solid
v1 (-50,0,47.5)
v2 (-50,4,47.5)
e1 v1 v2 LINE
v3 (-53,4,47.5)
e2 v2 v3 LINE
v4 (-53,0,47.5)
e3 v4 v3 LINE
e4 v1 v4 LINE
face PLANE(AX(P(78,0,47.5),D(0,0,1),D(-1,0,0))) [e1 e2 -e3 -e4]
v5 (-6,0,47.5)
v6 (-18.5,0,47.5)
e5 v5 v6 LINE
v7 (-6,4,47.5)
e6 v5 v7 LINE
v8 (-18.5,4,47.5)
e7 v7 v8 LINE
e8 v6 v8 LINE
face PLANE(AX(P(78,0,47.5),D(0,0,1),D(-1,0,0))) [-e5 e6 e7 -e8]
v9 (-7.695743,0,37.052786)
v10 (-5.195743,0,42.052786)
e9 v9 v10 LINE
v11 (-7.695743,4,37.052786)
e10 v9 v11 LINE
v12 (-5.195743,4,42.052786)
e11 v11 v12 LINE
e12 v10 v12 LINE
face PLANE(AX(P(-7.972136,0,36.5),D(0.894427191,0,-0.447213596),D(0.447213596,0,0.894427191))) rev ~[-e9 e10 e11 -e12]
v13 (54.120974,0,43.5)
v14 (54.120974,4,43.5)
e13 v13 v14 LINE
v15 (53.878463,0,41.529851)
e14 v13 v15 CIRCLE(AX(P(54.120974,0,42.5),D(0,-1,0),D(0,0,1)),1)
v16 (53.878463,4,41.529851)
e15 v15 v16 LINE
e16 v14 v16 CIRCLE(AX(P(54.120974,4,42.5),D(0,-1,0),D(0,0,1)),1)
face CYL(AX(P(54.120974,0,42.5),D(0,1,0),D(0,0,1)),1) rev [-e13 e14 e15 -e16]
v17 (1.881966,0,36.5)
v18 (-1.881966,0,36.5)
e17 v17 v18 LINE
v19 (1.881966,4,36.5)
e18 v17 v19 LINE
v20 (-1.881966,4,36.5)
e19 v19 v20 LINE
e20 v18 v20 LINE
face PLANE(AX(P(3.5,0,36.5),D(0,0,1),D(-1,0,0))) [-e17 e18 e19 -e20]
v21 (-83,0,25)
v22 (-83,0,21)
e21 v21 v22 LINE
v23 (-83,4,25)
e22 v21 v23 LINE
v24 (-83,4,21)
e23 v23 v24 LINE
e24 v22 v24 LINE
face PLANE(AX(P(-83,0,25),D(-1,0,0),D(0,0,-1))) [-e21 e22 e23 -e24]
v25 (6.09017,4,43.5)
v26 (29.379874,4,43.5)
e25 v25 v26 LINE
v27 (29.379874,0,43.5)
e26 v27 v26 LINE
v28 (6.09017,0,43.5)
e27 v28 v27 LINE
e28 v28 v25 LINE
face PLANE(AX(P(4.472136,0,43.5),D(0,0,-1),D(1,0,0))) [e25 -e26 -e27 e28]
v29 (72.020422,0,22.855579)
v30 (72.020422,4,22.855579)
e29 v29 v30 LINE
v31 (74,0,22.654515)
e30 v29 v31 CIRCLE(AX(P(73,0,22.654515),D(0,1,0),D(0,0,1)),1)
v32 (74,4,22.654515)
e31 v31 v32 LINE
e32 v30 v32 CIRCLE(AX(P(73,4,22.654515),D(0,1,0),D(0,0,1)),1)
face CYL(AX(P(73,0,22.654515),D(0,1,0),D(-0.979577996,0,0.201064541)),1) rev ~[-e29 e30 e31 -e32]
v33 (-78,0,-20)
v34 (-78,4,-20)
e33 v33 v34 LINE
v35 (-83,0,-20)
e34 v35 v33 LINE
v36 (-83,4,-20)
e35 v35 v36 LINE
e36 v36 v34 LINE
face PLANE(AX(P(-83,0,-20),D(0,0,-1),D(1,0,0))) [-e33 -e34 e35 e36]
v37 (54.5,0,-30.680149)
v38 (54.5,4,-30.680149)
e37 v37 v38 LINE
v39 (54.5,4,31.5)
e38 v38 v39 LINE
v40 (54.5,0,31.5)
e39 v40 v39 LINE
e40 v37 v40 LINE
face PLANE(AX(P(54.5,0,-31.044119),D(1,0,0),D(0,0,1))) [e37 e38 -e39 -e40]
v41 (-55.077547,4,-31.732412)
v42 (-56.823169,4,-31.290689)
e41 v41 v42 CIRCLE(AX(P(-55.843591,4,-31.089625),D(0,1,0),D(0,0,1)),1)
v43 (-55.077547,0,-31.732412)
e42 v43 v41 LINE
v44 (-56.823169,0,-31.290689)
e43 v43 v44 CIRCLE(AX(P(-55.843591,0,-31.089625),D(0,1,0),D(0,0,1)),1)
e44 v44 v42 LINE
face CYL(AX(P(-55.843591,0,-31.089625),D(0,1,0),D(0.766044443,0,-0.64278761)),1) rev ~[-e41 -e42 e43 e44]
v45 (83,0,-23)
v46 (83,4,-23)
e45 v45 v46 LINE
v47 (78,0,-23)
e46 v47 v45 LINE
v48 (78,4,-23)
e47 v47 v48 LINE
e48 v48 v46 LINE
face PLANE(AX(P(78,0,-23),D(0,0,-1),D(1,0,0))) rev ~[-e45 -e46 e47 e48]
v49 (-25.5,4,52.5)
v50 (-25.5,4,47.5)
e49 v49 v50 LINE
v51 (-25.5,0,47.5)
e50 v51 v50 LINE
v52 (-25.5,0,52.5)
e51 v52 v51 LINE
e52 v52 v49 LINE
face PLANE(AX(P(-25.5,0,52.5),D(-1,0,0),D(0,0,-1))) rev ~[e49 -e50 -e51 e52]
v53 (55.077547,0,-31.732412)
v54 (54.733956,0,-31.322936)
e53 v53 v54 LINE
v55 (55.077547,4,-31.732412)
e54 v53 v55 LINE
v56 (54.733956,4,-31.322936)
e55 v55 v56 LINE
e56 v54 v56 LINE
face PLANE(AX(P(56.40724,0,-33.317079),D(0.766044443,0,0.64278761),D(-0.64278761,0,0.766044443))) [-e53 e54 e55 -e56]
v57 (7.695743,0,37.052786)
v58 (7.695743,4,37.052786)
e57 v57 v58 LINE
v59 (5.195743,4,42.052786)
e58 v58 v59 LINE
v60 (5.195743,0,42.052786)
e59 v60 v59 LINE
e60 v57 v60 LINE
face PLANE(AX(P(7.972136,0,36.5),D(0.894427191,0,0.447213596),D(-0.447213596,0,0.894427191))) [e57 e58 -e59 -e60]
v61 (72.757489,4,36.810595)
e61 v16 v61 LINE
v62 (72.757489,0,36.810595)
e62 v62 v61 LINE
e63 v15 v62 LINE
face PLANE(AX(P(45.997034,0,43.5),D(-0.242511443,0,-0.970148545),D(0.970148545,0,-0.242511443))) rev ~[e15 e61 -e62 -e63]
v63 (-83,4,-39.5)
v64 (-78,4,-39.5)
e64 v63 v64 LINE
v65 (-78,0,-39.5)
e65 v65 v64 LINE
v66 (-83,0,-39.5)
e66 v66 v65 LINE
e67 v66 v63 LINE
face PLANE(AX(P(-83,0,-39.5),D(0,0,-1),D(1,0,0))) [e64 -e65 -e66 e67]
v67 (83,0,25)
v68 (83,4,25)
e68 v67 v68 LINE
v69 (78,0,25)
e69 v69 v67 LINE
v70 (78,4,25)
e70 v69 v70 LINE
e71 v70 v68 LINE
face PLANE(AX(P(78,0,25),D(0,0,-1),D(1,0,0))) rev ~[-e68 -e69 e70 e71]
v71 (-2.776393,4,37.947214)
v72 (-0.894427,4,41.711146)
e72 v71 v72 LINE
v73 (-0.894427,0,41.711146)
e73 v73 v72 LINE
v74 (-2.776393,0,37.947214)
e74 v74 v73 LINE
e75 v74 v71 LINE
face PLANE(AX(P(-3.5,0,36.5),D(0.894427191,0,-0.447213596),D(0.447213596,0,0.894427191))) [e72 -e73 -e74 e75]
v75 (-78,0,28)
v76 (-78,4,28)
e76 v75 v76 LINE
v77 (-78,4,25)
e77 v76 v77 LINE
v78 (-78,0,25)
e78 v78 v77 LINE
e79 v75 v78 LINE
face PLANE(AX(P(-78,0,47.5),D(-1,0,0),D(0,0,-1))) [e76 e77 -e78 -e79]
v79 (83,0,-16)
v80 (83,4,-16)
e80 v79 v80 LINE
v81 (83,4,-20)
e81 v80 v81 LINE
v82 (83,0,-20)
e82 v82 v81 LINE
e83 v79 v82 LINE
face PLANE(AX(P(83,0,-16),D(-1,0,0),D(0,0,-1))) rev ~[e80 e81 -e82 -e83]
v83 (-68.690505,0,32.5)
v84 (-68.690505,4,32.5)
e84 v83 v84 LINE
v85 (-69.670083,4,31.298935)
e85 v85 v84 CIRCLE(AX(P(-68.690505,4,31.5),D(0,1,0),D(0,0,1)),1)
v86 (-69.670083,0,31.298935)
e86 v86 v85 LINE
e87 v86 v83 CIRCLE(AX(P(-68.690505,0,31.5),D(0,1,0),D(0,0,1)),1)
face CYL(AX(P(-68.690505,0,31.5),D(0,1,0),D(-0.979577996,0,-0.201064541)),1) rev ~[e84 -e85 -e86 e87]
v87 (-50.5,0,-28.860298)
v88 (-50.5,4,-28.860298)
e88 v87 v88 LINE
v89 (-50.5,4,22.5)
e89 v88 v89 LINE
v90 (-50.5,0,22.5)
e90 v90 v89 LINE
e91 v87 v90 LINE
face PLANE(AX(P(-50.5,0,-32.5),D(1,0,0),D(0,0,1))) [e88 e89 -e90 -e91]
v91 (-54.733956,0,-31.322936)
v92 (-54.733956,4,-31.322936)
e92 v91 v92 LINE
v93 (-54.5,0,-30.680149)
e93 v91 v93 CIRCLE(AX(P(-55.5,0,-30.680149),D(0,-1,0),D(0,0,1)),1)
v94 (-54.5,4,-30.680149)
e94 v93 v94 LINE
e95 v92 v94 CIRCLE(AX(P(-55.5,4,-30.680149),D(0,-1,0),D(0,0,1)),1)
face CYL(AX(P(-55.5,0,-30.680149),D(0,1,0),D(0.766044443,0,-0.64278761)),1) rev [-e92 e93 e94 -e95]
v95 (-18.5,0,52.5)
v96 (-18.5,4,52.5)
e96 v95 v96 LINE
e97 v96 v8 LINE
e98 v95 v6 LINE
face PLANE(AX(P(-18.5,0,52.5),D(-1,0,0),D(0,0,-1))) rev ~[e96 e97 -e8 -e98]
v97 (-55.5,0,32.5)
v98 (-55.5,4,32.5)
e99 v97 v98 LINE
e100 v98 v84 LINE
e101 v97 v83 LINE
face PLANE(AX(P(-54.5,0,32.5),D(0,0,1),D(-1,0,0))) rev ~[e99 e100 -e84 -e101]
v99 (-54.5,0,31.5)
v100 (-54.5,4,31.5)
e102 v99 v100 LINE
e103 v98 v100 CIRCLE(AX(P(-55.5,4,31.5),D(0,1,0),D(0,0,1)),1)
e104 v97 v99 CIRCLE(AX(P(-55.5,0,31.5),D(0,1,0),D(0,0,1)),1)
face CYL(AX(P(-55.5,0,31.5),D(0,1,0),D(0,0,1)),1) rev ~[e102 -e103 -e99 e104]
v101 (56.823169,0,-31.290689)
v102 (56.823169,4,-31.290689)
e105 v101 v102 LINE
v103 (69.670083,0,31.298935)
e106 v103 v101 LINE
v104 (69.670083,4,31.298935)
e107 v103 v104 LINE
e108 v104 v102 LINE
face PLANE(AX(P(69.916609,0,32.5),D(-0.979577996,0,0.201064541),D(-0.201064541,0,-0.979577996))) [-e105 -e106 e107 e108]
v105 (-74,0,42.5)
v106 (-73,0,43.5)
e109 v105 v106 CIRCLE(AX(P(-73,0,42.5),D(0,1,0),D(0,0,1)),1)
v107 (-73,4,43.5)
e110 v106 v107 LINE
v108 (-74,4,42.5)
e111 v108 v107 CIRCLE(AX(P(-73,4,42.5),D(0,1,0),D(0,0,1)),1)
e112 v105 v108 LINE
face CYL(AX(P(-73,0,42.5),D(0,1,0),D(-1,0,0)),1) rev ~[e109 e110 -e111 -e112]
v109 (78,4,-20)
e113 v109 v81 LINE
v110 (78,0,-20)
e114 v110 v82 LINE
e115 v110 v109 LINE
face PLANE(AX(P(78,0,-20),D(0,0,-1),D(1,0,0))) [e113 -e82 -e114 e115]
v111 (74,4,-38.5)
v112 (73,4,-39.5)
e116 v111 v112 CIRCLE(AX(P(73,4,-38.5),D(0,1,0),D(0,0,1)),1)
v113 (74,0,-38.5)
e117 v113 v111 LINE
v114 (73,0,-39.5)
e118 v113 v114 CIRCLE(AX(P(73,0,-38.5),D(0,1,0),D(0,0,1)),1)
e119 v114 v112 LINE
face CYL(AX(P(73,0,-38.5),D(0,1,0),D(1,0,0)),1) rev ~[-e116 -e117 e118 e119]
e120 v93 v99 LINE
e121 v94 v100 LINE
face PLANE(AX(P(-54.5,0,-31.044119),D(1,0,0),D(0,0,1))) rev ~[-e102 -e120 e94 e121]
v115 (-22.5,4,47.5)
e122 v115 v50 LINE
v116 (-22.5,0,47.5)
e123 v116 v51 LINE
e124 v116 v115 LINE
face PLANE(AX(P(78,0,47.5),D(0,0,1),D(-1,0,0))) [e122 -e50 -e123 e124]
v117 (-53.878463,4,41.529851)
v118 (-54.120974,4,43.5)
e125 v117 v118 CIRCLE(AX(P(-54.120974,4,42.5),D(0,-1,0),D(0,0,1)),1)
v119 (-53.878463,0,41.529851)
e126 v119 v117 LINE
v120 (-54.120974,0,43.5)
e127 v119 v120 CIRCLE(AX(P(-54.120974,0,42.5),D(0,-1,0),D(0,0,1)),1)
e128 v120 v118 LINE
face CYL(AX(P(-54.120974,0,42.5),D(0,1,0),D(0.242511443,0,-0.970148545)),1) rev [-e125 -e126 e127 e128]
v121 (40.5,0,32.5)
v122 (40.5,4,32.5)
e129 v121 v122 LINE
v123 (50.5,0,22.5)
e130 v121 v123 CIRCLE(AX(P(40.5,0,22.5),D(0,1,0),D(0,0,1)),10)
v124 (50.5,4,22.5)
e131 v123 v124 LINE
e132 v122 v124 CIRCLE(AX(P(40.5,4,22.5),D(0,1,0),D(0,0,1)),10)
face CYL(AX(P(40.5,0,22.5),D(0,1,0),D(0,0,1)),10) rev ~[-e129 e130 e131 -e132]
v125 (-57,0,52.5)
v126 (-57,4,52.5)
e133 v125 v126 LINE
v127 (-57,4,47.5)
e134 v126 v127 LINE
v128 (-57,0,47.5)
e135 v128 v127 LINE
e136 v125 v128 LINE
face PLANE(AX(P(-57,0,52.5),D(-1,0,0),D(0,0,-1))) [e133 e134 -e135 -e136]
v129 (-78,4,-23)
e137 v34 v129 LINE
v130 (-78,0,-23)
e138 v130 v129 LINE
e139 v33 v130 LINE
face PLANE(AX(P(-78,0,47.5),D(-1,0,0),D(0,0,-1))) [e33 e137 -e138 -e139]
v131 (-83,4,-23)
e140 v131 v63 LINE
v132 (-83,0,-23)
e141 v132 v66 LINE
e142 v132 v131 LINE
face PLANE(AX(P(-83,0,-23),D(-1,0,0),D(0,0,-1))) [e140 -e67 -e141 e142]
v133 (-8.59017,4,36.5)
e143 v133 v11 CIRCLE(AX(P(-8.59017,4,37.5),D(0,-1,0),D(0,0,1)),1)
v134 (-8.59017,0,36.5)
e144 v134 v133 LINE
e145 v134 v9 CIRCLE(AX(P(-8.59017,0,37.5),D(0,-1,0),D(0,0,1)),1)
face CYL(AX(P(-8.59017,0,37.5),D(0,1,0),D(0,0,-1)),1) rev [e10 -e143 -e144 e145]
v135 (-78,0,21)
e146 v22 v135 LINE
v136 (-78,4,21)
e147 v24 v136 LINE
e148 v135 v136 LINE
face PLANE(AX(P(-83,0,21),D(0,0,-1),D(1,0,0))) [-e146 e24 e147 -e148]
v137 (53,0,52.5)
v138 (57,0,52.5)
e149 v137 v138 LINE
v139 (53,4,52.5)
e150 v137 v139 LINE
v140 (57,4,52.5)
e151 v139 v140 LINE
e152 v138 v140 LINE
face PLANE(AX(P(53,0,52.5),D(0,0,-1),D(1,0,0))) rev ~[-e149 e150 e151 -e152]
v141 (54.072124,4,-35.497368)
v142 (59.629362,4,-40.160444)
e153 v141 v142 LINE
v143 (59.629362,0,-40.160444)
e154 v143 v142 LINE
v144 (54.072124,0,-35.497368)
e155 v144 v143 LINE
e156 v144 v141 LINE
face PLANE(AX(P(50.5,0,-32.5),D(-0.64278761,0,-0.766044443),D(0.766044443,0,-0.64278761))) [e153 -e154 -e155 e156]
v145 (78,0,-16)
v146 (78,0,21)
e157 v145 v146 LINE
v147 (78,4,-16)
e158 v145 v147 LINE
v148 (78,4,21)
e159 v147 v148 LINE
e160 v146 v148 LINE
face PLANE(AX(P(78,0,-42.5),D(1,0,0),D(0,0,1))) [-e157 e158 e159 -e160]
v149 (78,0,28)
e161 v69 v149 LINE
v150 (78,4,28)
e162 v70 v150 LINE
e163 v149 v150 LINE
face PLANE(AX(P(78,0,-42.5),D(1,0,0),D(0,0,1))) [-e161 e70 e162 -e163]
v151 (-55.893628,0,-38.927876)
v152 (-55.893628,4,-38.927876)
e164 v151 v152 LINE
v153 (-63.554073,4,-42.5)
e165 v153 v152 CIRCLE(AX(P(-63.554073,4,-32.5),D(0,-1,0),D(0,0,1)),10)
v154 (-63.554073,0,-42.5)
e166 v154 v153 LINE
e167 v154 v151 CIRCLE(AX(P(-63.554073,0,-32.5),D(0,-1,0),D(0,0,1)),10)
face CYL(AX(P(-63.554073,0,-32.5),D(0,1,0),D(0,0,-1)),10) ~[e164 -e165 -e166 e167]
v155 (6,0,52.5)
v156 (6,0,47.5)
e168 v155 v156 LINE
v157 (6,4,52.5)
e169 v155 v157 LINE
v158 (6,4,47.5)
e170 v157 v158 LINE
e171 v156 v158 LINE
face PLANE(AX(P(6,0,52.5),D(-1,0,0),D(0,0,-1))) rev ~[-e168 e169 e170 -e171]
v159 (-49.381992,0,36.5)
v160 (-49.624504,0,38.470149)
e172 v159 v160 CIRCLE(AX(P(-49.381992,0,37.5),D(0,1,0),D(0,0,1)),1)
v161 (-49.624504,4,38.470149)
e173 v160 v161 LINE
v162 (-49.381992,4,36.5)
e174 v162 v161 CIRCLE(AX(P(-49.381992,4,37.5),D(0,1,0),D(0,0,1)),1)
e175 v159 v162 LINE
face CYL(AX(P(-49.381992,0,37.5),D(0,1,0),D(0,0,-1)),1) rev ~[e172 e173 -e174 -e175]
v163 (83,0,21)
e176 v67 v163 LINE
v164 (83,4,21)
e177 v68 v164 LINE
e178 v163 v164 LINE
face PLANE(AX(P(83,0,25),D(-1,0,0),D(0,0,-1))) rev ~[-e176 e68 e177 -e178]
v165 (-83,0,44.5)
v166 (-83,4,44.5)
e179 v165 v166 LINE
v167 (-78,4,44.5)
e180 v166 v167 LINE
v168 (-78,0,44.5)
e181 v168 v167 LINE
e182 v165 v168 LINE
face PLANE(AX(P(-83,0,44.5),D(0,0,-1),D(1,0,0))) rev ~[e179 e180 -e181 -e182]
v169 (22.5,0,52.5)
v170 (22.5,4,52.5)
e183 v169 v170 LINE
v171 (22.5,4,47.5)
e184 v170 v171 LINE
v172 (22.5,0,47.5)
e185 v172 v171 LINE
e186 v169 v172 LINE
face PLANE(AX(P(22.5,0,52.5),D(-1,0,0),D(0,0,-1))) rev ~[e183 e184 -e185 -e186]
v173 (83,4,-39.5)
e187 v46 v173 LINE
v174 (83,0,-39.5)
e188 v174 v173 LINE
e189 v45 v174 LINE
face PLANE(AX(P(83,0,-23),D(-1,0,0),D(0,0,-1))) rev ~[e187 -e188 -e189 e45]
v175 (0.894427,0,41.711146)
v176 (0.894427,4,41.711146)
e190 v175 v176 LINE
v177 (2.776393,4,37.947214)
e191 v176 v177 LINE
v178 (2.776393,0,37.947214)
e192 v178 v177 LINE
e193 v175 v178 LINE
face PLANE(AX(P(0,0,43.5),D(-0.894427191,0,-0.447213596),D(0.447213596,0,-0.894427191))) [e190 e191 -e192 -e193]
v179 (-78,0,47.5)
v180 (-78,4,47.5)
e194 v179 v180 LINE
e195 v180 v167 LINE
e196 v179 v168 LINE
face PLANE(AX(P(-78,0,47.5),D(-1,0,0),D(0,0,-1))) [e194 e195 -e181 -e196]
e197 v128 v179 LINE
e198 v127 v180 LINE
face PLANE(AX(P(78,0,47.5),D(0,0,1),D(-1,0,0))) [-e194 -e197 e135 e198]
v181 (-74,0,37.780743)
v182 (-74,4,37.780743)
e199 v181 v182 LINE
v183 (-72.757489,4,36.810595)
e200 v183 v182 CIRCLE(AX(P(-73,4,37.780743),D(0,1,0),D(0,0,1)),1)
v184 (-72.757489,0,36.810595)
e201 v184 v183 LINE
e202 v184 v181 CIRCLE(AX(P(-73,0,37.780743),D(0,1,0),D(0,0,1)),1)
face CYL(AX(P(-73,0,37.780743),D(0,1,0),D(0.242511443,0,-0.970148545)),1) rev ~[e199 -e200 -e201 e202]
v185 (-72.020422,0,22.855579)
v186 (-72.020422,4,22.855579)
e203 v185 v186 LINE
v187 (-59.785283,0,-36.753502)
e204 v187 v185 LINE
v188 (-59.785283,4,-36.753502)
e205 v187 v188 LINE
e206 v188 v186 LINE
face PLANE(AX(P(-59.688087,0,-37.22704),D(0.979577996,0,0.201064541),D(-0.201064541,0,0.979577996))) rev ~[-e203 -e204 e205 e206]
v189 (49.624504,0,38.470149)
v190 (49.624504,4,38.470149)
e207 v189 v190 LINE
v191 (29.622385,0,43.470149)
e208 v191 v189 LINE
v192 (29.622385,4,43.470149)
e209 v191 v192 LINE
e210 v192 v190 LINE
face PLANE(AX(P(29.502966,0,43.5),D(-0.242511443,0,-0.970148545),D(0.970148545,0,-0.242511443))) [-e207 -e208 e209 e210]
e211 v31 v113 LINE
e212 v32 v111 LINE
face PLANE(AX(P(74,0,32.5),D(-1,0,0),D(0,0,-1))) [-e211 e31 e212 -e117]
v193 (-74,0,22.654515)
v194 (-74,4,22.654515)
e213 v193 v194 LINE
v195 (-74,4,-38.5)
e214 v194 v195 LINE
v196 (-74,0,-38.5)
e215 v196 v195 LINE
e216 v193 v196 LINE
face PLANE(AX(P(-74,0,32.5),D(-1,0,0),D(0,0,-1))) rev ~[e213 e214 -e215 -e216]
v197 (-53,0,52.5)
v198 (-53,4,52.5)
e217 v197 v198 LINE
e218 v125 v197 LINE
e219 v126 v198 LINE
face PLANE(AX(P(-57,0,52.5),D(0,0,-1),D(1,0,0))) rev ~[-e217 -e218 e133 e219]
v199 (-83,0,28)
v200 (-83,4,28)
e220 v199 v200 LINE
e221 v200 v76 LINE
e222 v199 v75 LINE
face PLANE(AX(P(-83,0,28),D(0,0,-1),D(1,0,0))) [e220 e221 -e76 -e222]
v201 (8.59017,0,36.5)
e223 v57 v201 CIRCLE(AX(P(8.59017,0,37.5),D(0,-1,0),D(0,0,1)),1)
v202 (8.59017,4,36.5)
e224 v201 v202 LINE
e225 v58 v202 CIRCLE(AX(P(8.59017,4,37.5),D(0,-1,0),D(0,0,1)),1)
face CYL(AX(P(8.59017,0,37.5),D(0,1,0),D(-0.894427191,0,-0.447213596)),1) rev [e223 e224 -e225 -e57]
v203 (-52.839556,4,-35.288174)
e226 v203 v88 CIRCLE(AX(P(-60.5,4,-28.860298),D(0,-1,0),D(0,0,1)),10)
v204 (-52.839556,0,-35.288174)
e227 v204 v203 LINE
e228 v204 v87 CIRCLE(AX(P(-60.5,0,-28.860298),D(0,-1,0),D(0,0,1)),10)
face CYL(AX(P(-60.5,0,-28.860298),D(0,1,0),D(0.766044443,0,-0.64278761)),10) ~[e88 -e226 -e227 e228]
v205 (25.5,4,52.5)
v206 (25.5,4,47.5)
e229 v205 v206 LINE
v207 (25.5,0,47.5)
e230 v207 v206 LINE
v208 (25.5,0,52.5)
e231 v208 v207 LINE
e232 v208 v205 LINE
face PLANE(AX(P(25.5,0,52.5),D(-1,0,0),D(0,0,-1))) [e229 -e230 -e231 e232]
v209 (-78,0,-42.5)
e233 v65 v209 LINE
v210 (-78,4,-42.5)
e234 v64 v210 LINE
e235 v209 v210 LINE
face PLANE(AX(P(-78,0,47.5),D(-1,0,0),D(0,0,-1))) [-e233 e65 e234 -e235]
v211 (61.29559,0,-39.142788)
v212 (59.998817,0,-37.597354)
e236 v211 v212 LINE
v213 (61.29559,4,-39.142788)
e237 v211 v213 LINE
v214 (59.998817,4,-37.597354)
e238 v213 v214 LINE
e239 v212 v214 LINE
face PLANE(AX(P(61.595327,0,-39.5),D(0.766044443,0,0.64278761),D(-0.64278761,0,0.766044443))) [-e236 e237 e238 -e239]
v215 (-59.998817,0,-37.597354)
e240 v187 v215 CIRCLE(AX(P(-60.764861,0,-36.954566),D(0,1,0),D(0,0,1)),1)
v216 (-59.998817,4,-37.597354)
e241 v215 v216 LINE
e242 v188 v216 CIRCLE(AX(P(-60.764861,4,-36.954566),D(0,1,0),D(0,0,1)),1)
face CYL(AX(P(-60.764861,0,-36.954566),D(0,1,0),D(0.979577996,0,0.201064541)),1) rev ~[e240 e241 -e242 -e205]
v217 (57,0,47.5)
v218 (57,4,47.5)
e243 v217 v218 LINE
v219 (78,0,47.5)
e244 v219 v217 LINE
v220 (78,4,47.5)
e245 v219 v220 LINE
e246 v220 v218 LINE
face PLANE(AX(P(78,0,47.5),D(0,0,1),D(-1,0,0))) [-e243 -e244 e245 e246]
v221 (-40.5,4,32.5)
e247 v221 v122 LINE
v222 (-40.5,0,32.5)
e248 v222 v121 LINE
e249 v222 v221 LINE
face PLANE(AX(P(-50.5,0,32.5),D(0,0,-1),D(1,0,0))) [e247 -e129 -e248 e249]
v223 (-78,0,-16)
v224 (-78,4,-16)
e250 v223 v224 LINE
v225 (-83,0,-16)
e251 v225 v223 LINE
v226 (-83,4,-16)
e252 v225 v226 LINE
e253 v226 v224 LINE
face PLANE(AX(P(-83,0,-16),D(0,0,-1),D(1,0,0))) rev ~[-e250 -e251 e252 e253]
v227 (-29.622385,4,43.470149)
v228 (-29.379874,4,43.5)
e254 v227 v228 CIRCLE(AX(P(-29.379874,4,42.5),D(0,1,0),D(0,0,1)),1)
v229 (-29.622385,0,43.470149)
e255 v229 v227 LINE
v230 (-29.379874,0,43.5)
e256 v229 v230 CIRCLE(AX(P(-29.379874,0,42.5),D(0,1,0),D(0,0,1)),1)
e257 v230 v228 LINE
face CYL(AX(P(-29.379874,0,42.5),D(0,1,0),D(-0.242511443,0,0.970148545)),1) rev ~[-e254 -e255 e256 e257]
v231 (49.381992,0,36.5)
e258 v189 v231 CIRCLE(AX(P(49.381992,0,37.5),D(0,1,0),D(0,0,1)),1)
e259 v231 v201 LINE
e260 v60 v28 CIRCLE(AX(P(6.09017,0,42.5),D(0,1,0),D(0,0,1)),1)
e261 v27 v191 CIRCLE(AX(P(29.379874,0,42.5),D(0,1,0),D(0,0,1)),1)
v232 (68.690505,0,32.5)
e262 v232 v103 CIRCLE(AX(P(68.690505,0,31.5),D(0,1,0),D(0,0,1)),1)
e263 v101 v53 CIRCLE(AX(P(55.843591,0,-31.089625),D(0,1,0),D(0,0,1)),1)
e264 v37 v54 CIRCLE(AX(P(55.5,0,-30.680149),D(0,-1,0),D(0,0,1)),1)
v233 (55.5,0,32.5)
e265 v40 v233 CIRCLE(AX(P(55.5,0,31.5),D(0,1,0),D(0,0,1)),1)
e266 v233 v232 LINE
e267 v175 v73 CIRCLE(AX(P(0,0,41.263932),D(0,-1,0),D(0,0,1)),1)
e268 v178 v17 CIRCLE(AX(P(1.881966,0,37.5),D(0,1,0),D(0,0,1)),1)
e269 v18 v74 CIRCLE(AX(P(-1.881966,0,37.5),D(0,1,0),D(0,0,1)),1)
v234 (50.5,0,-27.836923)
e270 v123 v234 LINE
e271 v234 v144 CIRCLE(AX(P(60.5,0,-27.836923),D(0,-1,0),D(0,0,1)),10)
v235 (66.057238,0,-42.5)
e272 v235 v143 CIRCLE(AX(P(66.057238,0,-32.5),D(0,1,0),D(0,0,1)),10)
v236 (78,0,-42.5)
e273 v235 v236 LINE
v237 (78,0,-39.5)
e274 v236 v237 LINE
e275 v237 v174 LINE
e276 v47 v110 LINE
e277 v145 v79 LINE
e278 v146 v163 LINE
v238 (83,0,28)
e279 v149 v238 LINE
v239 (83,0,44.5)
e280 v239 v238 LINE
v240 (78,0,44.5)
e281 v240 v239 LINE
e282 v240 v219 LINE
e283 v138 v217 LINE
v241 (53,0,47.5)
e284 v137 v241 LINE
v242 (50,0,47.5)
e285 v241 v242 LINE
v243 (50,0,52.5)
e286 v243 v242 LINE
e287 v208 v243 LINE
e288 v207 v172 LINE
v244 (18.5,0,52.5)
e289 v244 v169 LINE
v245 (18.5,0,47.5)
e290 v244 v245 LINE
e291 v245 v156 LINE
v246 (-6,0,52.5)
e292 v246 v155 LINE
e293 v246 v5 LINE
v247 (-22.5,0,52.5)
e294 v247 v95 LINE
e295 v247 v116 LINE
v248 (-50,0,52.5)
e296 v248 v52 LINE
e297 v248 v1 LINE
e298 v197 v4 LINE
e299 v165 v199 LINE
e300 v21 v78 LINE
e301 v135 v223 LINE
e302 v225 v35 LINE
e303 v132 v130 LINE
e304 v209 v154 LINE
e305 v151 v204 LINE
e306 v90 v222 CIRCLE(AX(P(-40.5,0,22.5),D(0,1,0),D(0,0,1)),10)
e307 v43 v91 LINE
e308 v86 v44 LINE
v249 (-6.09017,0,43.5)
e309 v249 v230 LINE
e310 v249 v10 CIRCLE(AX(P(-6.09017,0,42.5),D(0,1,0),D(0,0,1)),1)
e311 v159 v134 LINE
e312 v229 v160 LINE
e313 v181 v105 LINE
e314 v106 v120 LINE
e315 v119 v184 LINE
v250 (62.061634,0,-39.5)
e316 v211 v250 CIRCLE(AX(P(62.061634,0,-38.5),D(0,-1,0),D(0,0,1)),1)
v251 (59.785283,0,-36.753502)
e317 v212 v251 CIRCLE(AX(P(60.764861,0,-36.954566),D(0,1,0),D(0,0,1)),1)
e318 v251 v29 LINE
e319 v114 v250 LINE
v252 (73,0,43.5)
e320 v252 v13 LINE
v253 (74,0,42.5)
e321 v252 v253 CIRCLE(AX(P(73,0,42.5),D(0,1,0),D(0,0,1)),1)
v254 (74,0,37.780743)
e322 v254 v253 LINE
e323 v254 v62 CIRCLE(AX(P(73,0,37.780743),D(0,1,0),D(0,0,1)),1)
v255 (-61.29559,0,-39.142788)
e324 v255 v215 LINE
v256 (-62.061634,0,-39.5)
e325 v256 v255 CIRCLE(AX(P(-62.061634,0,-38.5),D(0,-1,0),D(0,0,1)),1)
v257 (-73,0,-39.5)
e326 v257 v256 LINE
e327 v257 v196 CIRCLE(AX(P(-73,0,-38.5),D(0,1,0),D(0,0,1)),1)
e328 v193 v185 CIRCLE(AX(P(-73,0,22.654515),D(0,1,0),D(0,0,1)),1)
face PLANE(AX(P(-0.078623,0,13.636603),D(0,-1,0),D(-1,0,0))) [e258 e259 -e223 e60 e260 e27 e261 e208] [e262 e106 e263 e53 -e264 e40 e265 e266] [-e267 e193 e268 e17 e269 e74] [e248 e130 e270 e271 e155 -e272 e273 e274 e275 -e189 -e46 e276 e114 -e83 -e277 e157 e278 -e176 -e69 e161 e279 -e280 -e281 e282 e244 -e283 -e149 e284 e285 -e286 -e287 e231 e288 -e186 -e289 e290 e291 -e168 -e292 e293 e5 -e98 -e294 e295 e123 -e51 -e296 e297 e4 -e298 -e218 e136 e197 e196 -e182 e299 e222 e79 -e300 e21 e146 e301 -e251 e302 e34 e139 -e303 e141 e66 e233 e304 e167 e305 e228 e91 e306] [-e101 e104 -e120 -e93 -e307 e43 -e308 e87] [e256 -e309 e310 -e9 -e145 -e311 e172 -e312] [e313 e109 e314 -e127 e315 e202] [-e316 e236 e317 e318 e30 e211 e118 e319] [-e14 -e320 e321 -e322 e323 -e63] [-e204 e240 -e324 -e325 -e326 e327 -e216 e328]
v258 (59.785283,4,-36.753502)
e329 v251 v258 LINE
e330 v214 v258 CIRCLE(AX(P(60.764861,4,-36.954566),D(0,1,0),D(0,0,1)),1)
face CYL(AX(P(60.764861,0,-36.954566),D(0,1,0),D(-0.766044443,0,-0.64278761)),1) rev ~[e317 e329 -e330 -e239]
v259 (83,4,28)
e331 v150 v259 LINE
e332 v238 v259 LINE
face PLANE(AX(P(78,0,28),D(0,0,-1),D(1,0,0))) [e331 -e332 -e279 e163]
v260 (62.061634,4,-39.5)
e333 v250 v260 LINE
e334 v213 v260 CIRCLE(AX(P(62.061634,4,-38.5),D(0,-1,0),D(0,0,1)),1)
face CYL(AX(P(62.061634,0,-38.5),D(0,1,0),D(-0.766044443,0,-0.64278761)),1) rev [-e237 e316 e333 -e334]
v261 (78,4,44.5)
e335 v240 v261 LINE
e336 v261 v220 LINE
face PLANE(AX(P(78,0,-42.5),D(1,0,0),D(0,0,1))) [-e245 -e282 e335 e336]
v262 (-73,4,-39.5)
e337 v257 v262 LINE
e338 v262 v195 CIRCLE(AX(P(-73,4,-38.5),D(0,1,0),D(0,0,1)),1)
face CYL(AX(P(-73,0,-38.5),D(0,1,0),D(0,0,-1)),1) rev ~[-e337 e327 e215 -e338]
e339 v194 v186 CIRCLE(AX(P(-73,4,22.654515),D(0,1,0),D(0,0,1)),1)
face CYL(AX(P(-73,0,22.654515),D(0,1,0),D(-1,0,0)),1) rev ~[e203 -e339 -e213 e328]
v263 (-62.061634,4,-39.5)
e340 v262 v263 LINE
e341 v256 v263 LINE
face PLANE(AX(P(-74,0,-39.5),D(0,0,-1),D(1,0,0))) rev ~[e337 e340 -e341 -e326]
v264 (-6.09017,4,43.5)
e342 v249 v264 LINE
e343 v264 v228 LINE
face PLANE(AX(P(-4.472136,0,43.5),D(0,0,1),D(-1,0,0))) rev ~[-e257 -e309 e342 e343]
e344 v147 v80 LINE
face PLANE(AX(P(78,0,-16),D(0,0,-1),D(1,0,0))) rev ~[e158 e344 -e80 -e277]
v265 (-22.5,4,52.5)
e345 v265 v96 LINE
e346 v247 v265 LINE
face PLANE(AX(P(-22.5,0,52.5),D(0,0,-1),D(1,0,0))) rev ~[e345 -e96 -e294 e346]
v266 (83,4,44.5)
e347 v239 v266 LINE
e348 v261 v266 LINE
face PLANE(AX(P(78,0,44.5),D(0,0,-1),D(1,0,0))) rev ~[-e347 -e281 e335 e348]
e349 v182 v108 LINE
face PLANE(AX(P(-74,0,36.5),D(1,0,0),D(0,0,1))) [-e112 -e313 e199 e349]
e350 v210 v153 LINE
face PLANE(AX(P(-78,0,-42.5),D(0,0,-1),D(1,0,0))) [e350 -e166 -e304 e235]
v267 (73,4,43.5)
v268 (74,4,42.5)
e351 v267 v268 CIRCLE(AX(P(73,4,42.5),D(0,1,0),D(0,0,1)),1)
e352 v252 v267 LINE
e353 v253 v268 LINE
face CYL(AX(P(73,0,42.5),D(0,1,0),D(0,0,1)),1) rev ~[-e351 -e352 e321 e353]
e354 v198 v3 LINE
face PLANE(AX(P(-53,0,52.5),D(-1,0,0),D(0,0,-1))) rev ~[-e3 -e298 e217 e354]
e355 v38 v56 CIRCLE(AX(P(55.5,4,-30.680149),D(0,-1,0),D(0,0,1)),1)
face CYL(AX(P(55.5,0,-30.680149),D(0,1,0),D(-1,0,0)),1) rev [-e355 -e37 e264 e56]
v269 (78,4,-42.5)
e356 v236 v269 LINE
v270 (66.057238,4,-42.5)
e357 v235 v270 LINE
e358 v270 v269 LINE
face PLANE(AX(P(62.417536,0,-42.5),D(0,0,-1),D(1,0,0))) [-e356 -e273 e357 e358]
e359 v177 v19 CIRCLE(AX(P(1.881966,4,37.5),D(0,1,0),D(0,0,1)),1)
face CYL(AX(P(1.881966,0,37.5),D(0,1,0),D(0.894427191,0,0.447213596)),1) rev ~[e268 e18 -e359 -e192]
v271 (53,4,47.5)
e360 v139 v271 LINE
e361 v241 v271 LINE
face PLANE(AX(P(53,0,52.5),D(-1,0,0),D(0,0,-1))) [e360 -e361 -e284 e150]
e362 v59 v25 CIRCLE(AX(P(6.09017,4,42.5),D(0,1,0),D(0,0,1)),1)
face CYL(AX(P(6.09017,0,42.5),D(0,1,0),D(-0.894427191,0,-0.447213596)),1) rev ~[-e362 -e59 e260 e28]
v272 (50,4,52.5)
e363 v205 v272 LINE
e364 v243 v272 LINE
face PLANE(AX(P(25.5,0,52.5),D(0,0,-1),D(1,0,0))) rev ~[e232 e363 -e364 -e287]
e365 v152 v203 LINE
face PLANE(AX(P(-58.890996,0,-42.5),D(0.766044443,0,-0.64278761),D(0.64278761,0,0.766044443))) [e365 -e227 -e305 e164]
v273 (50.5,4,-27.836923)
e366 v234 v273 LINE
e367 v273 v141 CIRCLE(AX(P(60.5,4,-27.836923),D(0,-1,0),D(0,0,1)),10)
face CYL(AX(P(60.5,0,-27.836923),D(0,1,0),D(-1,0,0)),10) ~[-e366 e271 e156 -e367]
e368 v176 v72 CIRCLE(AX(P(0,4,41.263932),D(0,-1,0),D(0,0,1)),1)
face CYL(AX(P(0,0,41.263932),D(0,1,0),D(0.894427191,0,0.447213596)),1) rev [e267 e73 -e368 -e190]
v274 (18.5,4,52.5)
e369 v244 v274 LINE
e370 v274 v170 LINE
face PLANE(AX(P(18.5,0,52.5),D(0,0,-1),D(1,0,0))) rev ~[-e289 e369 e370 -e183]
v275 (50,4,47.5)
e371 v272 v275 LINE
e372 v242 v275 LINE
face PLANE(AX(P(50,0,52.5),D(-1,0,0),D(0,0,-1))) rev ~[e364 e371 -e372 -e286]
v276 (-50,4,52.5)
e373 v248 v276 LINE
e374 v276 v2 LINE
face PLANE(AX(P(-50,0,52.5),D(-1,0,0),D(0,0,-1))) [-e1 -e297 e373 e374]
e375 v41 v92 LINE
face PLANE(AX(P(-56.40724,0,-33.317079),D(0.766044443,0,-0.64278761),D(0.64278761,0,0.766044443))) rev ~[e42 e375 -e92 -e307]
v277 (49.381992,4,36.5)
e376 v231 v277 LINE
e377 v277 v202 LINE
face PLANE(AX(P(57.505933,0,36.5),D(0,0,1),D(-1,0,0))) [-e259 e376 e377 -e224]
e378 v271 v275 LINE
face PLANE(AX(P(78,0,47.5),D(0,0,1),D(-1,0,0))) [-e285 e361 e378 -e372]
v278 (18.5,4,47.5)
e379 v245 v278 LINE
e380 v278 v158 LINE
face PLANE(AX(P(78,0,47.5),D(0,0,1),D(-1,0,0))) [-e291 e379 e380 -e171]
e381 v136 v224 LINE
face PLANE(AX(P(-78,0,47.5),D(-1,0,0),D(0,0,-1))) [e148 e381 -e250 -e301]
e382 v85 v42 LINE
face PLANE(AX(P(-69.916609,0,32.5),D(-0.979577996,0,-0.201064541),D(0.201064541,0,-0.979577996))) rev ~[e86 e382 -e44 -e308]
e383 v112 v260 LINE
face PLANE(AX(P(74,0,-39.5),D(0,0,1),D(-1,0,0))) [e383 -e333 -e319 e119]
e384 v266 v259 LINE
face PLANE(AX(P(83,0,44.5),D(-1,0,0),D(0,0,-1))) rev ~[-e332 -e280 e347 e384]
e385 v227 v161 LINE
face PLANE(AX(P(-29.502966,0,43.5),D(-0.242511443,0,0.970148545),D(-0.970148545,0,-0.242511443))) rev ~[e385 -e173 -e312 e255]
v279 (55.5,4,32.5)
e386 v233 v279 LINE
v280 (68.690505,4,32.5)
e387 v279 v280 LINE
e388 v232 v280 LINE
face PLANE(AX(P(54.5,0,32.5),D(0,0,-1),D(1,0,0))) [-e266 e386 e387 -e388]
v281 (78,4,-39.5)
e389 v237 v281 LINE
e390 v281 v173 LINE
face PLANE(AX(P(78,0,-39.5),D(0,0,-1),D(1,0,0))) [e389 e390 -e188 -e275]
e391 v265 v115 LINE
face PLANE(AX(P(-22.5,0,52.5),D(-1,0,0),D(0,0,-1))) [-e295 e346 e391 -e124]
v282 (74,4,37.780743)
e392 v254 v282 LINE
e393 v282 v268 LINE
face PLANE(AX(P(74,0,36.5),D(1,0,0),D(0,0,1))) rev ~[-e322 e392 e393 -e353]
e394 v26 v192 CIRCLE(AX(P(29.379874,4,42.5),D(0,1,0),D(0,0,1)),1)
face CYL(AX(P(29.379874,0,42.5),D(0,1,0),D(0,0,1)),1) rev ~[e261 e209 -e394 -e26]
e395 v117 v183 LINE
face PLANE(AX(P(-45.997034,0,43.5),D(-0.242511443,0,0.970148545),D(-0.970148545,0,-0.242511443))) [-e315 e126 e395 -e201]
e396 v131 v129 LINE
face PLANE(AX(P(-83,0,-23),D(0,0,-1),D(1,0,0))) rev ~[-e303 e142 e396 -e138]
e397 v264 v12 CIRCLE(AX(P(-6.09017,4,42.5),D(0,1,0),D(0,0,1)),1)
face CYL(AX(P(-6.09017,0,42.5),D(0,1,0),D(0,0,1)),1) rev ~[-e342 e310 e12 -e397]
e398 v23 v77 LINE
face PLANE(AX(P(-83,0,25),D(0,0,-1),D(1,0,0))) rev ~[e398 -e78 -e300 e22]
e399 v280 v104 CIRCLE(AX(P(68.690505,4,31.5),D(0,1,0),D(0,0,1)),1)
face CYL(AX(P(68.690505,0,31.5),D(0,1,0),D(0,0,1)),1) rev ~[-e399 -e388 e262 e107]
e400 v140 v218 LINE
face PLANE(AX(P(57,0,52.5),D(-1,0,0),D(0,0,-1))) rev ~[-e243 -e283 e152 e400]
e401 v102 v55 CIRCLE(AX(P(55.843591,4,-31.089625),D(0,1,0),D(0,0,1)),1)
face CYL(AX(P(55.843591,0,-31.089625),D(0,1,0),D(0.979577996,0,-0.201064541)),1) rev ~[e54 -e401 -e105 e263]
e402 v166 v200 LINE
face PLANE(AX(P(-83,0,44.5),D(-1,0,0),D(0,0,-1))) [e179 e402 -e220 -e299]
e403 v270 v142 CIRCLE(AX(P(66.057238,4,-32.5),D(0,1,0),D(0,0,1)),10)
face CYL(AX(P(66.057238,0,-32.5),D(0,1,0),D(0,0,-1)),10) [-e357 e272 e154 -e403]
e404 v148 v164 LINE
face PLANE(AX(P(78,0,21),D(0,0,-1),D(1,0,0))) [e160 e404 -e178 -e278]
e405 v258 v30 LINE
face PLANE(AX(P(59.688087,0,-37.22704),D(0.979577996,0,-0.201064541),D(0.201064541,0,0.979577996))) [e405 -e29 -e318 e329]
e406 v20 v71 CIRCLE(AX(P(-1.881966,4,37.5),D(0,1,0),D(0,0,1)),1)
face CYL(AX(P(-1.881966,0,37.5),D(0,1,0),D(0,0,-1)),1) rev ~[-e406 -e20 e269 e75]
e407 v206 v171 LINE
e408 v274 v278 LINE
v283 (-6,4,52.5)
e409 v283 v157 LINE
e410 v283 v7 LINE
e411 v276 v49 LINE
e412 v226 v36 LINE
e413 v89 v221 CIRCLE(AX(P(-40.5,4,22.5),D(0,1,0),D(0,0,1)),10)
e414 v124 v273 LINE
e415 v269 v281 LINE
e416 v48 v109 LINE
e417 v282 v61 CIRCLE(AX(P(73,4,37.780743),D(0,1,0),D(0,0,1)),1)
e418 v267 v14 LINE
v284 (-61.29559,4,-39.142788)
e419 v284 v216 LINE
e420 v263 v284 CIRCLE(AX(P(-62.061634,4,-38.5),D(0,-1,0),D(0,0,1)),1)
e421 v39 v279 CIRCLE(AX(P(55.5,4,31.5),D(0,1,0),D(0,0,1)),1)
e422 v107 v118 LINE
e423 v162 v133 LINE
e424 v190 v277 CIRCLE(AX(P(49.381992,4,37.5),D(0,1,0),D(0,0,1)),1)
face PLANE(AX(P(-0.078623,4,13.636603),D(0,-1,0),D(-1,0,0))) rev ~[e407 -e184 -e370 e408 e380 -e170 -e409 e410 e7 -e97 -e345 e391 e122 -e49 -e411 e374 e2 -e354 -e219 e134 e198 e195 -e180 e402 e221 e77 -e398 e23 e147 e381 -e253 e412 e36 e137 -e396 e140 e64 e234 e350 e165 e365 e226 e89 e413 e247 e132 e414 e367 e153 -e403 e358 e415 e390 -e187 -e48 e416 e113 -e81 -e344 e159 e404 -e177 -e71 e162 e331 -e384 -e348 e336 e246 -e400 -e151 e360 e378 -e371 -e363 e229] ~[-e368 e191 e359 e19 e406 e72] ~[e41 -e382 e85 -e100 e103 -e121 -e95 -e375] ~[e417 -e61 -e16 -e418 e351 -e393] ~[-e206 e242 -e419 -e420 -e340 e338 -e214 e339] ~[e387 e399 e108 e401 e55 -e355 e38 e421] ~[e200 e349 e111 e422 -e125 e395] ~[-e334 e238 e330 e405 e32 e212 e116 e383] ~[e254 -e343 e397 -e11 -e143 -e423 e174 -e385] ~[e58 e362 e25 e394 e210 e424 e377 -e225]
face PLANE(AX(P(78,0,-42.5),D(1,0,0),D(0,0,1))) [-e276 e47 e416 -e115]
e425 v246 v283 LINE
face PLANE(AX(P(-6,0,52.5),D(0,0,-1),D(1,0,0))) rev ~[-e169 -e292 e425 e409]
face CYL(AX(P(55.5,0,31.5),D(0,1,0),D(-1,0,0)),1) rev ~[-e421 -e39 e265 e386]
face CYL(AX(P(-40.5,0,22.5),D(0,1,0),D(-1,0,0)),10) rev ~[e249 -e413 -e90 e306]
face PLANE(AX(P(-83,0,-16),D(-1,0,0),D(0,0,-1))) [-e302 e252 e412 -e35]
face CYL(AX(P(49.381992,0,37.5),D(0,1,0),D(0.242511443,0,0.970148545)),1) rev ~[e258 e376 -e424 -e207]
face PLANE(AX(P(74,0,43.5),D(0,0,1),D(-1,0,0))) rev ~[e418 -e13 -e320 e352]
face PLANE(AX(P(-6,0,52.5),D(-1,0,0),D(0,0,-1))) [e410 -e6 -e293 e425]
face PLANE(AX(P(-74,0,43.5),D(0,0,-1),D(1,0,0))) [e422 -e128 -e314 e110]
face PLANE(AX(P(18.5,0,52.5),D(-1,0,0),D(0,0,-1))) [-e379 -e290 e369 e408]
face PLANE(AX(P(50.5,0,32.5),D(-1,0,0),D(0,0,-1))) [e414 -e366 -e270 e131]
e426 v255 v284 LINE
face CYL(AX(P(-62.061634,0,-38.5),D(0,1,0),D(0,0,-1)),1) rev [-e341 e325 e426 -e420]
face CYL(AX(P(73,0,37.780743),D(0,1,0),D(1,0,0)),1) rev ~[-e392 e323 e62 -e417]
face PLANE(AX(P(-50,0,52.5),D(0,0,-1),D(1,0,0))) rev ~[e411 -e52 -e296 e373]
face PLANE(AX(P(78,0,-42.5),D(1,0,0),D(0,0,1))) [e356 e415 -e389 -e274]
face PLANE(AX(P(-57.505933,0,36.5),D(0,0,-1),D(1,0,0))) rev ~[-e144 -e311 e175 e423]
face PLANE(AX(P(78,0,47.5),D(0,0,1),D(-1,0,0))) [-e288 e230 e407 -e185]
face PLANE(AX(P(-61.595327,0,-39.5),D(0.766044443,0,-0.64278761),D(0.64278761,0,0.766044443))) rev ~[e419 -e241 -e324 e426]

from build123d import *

# Parameters (mm, degrees)
SKETCH1_W           = 5
SKETCH1_H           = 16.5
SKETCH1_W_2         = 12
SKETCH1_H_2         = 5
SKETCH1_H_3         = 4
SKETCH1_W_3         = 24.5
SKETCH1_W_4         = 4
BOSS_EXTRUDE1_DEPTH = 4
FILLET1_R           = 10
FILLET2_R           = 1


with BuildPart() as part:
    # Sketch1 → Boss-Extrude1 (new body)
    # profile 1 of 16: a face of its own
    with BuildSketch(Plane(origin=(0, 0, 0), x_dir=(1, 0, 0), z_dir=(0, 1, 0))):
        Polygon((-78, 42.5), (-58.890996312, 42.5), (-50.5, 32.5), (-50.5, -32.5), (50.5, -32.5), (50.5, 32.5), (62.417535926, 42.5), (78, 42.5), (78, -47.5), (-78, -47.5), align=None)
        Polygon((-74, 39.5), (-61.595326576, 39.5), (-59.688086754, 37.22704009), (-74, -32.5), align=None, mode=Mode.SUBTRACT)
        Polygon((-56.407239822, 33.317078972), (-54.5, 31.044119063), (-54.5, -32.5), (-69.916608972, -32.5), align=None, mode=Mode.SUBTRACT)
        Polygon((-74, -36.5), (-74, -43.5), (-45.997033515, -43.5), align=None, mode=Mode.SUBTRACT)
        Polygon((-57.50593297, -36.5), (-7.972135955, -36.5), (-4.472135955, -43.5), (-29.502966485, -43.5), align=None, mode=Mode.SUBTRACT)
        Polygon((3.5, -36.5), (-3.5, -36.5), (0, -43.5), align=None, mode=Mode.SUBTRACT)
        Polygon((4.472135955, -43.5), (29.502966485, -43.5), (57.50593297, -36.5), (7.972135955, -36.5), align=None, mode=Mode.SUBTRACT)
        Polygon((74, -43.5), (45.997033515, -43.5), (74, -36.5), align=None, mode=Mode.SUBTRACT)
        Polygon((54.5, -32.5), (69.916608972, -32.5), (56.407239822, 33.317078972), (54.5, 31.044119063), align=None, mode=Mode.SUBTRACT)
        Polygon((59.688086754, 37.22704009), (74, -32.5), (74, 39.5), (61.595326576, 39.5), align=None, mode=Mode.SUBTRACT)
    # profile 2 of 16: a face of its own
    with BuildSketch(Plane(origin=(0, 0, 0), x_dir=(1, 0, 0), z_dir=(0, 1, 0))):
        with Locations((80.5, 31.25)):
            Rectangle(SKETCH1_W, SKETCH1_H)
    # profile 3 of 16: a face of its own
    with BuildSketch(Plane(origin=(0, 0, 0), x_dir=(1, 0, 0), z_dir=(0, 1, 0))):
        with Locations((80.5, -36.25)):
            Rectangle(SKETCH1_W, SKETCH1_H)
    # profile 4 of 16: a face of its own
    with BuildSketch(Plane(origin=(0, 0, 0), x_dir=(1, 0, 0), z_dir=(0, 1, 0))):
        with Locations((0, -50)):
            Rectangle(SKETCH1_W_2, SKETCH1_H_2)
    # profile 5 of 16: a face of its own
    with BuildSketch(Plane(origin=(0, 0, 0), x_dir=(1, 0, 0), z_dir=(0, 1, 0))):
        with Locations((80.5, 18)):
            Rectangle(SKETCH1_W, SKETCH1_H_3)
    # profile 6 of 16: a face of its own
    with BuildSketch(Plane(origin=(0, 0, 0), x_dir=(1, 0, 0), z_dir=(0, 1, 0))):
        with Locations((80.5, -23)):
            Rectangle(SKETCH1_W, SKETCH1_H_3)
    # profile 7 of 16: a face of its own
    with BuildSketch(Plane(origin=(0, 0, 0), x_dir=(1, 0, 0), z_dir=(0, 1, 0))):
        with Locations((37.75, -50)):
            Rectangle(SKETCH1_W_3, SKETCH1_H_2)
    # profile 8 of 16: a face of its own
    with BuildSketch(Plane(origin=(0, 0, 0), x_dir=(1, 0, 0), z_dir=(0, 1, 0))):
        with Locations((55, -50)):
            Rectangle(SKETCH1_W_4, SKETCH1_H_2)
    # profile 9 of 16: a face of its own
    with BuildSketch(Plane(origin=(0, 0, 0), x_dir=(1, 0, 0), z_dir=(0, 1, 0))):
        with Locations((20.5, -50)):
            Rectangle(SKETCH1_W_4, SKETCH1_H_2)
    # profile 10 of 16: a face of its own
    with BuildSketch(Plane(origin=(0, 0, 0), x_dir=(1, 0, 0), z_dir=(0, 1, 0))):
        with Locations((-20.5, -50)):
            Rectangle(SKETCH1_W_4, SKETCH1_H_2)
    # profile 11 of 16: a face of its own
    with BuildSketch(Plane(origin=(0, 0, 0), x_dir=(1, 0, 0), z_dir=(0, 1, 0))):
        with Locations((-37.75, -50)):
            Rectangle(SKETCH1_W_3, SKETCH1_H_2)
    # profile 12 of 16: a face of its own
    with BuildSketch(Plane(origin=(0, 0, 0), x_dir=(1, 0, 0), z_dir=(0, 1, 0))):
        with Locations((-55, -50)):
            Rectangle(SKETCH1_W_4, SKETCH1_H_2)
    # profile 13 of 16: a face of its own
    with BuildSketch(Plane(origin=(0, 0, 0), x_dir=(1, 0, 0), z_dir=(0, 1, 0))):
        with Locations((-80.5, -36.25)):
            Rectangle(SKETCH1_W, SKETCH1_H)
    # profile 14 of 16: a face of its own
    with BuildSketch(Plane(origin=(0, 0, 0), x_dir=(1, 0, 0), z_dir=(0, 1, 0))):
        with Locations((-80.5, -23)):
            Rectangle(SKETCH1_W, SKETCH1_H_3)
    # profile 15 of 16: a face of its own
    with BuildSketch(Plane(origin=(0, 0, 0), x_dir=(1, 0, 0), z_dir=(0, 1, 0))):
        with Locations((-80.5, 18)):
            Rectangle(SKETCH1_W, SKETCH1_H_3)
    # profile 16 of 16: a face of its own
    with BuildSketch(Plane(origin=(0, 0, 0), x_dir=(1, 0, 0), z_dir=(0, 1, 0))):
        with Locations((-80.5, 31.25)):
            Rectangle(SKETCH1_W, SKETCH1_H)
    extrude(amount=BOSS_EXTRUDE1_DEPTH)

    # Fillet1
    fillet1_edges = [part.edges().sort_by_distance(p)[0] for p in [
        (-58.890996312, 2, -42.5),
        (-50.5, 2, -32.5),
        (-50.5, 2, 32.5),
        (50.5, 2, 32.5),
        (50.5, 2, -32.5),
        (62.417535926, 2, -42.5),
    ]]
    fillet(fillet1_edges, radius=FILLET1_R)

    # Fillet2
    fillet2_edges = [part.edges().sort_by_distance(p)[0] for p in [
        (74, 2, 43.5),
        (74, 2, 36.5),
        (45.997033515, 2, 43.5),
        (-3.5, 2, 36.5),
        (0, 2, 43.5),
        (3.5, 2, 36.5),
        (-4.472135955, 2, 43.5),
        (-7.972135955, 2, 36.5),
        (-57.50593297, 2, 36.5),
        (-29.502966485, 2, 43.5),
        (-54.5, 2, 32.5),
        (-54.5, 2, -31.044119063),
        (-56.407239822, 2, -33.317078972),
        (-69.916608972, 2, 32.5),
        (-59.688086754, 2, -37.22704009),
        (-61.595326576, 2, -39.5),
        (-74, 2, -39.5),
        (-74, 2, 32.5),
        (-74, 2, 36.5),
        (-74, 2, 43.5),
        (-45.997033515, 2, 43.5),
        (57.50593297, 2, 36.5),
        (7.972135955, 2, 36.5),
        (4.472135955, 2, 43.5),
        (29.502966485, 2, 43.5),
        (56.407239822, 2, -33.317078972),
        (54.5, 2, -31.044119063),
        (54.5, 2, 32.5),
        (69.916608972, 2, 32.5),
        (74, 2, -39.5),
        (61.595326576, 2, -39.5),
        (59.688086754, 2, -37.22704009),
        (74, 2, 32.5),
    ]]
    fillet(fillet2_edges, radius=FILLET2_R)


solid = part.part
